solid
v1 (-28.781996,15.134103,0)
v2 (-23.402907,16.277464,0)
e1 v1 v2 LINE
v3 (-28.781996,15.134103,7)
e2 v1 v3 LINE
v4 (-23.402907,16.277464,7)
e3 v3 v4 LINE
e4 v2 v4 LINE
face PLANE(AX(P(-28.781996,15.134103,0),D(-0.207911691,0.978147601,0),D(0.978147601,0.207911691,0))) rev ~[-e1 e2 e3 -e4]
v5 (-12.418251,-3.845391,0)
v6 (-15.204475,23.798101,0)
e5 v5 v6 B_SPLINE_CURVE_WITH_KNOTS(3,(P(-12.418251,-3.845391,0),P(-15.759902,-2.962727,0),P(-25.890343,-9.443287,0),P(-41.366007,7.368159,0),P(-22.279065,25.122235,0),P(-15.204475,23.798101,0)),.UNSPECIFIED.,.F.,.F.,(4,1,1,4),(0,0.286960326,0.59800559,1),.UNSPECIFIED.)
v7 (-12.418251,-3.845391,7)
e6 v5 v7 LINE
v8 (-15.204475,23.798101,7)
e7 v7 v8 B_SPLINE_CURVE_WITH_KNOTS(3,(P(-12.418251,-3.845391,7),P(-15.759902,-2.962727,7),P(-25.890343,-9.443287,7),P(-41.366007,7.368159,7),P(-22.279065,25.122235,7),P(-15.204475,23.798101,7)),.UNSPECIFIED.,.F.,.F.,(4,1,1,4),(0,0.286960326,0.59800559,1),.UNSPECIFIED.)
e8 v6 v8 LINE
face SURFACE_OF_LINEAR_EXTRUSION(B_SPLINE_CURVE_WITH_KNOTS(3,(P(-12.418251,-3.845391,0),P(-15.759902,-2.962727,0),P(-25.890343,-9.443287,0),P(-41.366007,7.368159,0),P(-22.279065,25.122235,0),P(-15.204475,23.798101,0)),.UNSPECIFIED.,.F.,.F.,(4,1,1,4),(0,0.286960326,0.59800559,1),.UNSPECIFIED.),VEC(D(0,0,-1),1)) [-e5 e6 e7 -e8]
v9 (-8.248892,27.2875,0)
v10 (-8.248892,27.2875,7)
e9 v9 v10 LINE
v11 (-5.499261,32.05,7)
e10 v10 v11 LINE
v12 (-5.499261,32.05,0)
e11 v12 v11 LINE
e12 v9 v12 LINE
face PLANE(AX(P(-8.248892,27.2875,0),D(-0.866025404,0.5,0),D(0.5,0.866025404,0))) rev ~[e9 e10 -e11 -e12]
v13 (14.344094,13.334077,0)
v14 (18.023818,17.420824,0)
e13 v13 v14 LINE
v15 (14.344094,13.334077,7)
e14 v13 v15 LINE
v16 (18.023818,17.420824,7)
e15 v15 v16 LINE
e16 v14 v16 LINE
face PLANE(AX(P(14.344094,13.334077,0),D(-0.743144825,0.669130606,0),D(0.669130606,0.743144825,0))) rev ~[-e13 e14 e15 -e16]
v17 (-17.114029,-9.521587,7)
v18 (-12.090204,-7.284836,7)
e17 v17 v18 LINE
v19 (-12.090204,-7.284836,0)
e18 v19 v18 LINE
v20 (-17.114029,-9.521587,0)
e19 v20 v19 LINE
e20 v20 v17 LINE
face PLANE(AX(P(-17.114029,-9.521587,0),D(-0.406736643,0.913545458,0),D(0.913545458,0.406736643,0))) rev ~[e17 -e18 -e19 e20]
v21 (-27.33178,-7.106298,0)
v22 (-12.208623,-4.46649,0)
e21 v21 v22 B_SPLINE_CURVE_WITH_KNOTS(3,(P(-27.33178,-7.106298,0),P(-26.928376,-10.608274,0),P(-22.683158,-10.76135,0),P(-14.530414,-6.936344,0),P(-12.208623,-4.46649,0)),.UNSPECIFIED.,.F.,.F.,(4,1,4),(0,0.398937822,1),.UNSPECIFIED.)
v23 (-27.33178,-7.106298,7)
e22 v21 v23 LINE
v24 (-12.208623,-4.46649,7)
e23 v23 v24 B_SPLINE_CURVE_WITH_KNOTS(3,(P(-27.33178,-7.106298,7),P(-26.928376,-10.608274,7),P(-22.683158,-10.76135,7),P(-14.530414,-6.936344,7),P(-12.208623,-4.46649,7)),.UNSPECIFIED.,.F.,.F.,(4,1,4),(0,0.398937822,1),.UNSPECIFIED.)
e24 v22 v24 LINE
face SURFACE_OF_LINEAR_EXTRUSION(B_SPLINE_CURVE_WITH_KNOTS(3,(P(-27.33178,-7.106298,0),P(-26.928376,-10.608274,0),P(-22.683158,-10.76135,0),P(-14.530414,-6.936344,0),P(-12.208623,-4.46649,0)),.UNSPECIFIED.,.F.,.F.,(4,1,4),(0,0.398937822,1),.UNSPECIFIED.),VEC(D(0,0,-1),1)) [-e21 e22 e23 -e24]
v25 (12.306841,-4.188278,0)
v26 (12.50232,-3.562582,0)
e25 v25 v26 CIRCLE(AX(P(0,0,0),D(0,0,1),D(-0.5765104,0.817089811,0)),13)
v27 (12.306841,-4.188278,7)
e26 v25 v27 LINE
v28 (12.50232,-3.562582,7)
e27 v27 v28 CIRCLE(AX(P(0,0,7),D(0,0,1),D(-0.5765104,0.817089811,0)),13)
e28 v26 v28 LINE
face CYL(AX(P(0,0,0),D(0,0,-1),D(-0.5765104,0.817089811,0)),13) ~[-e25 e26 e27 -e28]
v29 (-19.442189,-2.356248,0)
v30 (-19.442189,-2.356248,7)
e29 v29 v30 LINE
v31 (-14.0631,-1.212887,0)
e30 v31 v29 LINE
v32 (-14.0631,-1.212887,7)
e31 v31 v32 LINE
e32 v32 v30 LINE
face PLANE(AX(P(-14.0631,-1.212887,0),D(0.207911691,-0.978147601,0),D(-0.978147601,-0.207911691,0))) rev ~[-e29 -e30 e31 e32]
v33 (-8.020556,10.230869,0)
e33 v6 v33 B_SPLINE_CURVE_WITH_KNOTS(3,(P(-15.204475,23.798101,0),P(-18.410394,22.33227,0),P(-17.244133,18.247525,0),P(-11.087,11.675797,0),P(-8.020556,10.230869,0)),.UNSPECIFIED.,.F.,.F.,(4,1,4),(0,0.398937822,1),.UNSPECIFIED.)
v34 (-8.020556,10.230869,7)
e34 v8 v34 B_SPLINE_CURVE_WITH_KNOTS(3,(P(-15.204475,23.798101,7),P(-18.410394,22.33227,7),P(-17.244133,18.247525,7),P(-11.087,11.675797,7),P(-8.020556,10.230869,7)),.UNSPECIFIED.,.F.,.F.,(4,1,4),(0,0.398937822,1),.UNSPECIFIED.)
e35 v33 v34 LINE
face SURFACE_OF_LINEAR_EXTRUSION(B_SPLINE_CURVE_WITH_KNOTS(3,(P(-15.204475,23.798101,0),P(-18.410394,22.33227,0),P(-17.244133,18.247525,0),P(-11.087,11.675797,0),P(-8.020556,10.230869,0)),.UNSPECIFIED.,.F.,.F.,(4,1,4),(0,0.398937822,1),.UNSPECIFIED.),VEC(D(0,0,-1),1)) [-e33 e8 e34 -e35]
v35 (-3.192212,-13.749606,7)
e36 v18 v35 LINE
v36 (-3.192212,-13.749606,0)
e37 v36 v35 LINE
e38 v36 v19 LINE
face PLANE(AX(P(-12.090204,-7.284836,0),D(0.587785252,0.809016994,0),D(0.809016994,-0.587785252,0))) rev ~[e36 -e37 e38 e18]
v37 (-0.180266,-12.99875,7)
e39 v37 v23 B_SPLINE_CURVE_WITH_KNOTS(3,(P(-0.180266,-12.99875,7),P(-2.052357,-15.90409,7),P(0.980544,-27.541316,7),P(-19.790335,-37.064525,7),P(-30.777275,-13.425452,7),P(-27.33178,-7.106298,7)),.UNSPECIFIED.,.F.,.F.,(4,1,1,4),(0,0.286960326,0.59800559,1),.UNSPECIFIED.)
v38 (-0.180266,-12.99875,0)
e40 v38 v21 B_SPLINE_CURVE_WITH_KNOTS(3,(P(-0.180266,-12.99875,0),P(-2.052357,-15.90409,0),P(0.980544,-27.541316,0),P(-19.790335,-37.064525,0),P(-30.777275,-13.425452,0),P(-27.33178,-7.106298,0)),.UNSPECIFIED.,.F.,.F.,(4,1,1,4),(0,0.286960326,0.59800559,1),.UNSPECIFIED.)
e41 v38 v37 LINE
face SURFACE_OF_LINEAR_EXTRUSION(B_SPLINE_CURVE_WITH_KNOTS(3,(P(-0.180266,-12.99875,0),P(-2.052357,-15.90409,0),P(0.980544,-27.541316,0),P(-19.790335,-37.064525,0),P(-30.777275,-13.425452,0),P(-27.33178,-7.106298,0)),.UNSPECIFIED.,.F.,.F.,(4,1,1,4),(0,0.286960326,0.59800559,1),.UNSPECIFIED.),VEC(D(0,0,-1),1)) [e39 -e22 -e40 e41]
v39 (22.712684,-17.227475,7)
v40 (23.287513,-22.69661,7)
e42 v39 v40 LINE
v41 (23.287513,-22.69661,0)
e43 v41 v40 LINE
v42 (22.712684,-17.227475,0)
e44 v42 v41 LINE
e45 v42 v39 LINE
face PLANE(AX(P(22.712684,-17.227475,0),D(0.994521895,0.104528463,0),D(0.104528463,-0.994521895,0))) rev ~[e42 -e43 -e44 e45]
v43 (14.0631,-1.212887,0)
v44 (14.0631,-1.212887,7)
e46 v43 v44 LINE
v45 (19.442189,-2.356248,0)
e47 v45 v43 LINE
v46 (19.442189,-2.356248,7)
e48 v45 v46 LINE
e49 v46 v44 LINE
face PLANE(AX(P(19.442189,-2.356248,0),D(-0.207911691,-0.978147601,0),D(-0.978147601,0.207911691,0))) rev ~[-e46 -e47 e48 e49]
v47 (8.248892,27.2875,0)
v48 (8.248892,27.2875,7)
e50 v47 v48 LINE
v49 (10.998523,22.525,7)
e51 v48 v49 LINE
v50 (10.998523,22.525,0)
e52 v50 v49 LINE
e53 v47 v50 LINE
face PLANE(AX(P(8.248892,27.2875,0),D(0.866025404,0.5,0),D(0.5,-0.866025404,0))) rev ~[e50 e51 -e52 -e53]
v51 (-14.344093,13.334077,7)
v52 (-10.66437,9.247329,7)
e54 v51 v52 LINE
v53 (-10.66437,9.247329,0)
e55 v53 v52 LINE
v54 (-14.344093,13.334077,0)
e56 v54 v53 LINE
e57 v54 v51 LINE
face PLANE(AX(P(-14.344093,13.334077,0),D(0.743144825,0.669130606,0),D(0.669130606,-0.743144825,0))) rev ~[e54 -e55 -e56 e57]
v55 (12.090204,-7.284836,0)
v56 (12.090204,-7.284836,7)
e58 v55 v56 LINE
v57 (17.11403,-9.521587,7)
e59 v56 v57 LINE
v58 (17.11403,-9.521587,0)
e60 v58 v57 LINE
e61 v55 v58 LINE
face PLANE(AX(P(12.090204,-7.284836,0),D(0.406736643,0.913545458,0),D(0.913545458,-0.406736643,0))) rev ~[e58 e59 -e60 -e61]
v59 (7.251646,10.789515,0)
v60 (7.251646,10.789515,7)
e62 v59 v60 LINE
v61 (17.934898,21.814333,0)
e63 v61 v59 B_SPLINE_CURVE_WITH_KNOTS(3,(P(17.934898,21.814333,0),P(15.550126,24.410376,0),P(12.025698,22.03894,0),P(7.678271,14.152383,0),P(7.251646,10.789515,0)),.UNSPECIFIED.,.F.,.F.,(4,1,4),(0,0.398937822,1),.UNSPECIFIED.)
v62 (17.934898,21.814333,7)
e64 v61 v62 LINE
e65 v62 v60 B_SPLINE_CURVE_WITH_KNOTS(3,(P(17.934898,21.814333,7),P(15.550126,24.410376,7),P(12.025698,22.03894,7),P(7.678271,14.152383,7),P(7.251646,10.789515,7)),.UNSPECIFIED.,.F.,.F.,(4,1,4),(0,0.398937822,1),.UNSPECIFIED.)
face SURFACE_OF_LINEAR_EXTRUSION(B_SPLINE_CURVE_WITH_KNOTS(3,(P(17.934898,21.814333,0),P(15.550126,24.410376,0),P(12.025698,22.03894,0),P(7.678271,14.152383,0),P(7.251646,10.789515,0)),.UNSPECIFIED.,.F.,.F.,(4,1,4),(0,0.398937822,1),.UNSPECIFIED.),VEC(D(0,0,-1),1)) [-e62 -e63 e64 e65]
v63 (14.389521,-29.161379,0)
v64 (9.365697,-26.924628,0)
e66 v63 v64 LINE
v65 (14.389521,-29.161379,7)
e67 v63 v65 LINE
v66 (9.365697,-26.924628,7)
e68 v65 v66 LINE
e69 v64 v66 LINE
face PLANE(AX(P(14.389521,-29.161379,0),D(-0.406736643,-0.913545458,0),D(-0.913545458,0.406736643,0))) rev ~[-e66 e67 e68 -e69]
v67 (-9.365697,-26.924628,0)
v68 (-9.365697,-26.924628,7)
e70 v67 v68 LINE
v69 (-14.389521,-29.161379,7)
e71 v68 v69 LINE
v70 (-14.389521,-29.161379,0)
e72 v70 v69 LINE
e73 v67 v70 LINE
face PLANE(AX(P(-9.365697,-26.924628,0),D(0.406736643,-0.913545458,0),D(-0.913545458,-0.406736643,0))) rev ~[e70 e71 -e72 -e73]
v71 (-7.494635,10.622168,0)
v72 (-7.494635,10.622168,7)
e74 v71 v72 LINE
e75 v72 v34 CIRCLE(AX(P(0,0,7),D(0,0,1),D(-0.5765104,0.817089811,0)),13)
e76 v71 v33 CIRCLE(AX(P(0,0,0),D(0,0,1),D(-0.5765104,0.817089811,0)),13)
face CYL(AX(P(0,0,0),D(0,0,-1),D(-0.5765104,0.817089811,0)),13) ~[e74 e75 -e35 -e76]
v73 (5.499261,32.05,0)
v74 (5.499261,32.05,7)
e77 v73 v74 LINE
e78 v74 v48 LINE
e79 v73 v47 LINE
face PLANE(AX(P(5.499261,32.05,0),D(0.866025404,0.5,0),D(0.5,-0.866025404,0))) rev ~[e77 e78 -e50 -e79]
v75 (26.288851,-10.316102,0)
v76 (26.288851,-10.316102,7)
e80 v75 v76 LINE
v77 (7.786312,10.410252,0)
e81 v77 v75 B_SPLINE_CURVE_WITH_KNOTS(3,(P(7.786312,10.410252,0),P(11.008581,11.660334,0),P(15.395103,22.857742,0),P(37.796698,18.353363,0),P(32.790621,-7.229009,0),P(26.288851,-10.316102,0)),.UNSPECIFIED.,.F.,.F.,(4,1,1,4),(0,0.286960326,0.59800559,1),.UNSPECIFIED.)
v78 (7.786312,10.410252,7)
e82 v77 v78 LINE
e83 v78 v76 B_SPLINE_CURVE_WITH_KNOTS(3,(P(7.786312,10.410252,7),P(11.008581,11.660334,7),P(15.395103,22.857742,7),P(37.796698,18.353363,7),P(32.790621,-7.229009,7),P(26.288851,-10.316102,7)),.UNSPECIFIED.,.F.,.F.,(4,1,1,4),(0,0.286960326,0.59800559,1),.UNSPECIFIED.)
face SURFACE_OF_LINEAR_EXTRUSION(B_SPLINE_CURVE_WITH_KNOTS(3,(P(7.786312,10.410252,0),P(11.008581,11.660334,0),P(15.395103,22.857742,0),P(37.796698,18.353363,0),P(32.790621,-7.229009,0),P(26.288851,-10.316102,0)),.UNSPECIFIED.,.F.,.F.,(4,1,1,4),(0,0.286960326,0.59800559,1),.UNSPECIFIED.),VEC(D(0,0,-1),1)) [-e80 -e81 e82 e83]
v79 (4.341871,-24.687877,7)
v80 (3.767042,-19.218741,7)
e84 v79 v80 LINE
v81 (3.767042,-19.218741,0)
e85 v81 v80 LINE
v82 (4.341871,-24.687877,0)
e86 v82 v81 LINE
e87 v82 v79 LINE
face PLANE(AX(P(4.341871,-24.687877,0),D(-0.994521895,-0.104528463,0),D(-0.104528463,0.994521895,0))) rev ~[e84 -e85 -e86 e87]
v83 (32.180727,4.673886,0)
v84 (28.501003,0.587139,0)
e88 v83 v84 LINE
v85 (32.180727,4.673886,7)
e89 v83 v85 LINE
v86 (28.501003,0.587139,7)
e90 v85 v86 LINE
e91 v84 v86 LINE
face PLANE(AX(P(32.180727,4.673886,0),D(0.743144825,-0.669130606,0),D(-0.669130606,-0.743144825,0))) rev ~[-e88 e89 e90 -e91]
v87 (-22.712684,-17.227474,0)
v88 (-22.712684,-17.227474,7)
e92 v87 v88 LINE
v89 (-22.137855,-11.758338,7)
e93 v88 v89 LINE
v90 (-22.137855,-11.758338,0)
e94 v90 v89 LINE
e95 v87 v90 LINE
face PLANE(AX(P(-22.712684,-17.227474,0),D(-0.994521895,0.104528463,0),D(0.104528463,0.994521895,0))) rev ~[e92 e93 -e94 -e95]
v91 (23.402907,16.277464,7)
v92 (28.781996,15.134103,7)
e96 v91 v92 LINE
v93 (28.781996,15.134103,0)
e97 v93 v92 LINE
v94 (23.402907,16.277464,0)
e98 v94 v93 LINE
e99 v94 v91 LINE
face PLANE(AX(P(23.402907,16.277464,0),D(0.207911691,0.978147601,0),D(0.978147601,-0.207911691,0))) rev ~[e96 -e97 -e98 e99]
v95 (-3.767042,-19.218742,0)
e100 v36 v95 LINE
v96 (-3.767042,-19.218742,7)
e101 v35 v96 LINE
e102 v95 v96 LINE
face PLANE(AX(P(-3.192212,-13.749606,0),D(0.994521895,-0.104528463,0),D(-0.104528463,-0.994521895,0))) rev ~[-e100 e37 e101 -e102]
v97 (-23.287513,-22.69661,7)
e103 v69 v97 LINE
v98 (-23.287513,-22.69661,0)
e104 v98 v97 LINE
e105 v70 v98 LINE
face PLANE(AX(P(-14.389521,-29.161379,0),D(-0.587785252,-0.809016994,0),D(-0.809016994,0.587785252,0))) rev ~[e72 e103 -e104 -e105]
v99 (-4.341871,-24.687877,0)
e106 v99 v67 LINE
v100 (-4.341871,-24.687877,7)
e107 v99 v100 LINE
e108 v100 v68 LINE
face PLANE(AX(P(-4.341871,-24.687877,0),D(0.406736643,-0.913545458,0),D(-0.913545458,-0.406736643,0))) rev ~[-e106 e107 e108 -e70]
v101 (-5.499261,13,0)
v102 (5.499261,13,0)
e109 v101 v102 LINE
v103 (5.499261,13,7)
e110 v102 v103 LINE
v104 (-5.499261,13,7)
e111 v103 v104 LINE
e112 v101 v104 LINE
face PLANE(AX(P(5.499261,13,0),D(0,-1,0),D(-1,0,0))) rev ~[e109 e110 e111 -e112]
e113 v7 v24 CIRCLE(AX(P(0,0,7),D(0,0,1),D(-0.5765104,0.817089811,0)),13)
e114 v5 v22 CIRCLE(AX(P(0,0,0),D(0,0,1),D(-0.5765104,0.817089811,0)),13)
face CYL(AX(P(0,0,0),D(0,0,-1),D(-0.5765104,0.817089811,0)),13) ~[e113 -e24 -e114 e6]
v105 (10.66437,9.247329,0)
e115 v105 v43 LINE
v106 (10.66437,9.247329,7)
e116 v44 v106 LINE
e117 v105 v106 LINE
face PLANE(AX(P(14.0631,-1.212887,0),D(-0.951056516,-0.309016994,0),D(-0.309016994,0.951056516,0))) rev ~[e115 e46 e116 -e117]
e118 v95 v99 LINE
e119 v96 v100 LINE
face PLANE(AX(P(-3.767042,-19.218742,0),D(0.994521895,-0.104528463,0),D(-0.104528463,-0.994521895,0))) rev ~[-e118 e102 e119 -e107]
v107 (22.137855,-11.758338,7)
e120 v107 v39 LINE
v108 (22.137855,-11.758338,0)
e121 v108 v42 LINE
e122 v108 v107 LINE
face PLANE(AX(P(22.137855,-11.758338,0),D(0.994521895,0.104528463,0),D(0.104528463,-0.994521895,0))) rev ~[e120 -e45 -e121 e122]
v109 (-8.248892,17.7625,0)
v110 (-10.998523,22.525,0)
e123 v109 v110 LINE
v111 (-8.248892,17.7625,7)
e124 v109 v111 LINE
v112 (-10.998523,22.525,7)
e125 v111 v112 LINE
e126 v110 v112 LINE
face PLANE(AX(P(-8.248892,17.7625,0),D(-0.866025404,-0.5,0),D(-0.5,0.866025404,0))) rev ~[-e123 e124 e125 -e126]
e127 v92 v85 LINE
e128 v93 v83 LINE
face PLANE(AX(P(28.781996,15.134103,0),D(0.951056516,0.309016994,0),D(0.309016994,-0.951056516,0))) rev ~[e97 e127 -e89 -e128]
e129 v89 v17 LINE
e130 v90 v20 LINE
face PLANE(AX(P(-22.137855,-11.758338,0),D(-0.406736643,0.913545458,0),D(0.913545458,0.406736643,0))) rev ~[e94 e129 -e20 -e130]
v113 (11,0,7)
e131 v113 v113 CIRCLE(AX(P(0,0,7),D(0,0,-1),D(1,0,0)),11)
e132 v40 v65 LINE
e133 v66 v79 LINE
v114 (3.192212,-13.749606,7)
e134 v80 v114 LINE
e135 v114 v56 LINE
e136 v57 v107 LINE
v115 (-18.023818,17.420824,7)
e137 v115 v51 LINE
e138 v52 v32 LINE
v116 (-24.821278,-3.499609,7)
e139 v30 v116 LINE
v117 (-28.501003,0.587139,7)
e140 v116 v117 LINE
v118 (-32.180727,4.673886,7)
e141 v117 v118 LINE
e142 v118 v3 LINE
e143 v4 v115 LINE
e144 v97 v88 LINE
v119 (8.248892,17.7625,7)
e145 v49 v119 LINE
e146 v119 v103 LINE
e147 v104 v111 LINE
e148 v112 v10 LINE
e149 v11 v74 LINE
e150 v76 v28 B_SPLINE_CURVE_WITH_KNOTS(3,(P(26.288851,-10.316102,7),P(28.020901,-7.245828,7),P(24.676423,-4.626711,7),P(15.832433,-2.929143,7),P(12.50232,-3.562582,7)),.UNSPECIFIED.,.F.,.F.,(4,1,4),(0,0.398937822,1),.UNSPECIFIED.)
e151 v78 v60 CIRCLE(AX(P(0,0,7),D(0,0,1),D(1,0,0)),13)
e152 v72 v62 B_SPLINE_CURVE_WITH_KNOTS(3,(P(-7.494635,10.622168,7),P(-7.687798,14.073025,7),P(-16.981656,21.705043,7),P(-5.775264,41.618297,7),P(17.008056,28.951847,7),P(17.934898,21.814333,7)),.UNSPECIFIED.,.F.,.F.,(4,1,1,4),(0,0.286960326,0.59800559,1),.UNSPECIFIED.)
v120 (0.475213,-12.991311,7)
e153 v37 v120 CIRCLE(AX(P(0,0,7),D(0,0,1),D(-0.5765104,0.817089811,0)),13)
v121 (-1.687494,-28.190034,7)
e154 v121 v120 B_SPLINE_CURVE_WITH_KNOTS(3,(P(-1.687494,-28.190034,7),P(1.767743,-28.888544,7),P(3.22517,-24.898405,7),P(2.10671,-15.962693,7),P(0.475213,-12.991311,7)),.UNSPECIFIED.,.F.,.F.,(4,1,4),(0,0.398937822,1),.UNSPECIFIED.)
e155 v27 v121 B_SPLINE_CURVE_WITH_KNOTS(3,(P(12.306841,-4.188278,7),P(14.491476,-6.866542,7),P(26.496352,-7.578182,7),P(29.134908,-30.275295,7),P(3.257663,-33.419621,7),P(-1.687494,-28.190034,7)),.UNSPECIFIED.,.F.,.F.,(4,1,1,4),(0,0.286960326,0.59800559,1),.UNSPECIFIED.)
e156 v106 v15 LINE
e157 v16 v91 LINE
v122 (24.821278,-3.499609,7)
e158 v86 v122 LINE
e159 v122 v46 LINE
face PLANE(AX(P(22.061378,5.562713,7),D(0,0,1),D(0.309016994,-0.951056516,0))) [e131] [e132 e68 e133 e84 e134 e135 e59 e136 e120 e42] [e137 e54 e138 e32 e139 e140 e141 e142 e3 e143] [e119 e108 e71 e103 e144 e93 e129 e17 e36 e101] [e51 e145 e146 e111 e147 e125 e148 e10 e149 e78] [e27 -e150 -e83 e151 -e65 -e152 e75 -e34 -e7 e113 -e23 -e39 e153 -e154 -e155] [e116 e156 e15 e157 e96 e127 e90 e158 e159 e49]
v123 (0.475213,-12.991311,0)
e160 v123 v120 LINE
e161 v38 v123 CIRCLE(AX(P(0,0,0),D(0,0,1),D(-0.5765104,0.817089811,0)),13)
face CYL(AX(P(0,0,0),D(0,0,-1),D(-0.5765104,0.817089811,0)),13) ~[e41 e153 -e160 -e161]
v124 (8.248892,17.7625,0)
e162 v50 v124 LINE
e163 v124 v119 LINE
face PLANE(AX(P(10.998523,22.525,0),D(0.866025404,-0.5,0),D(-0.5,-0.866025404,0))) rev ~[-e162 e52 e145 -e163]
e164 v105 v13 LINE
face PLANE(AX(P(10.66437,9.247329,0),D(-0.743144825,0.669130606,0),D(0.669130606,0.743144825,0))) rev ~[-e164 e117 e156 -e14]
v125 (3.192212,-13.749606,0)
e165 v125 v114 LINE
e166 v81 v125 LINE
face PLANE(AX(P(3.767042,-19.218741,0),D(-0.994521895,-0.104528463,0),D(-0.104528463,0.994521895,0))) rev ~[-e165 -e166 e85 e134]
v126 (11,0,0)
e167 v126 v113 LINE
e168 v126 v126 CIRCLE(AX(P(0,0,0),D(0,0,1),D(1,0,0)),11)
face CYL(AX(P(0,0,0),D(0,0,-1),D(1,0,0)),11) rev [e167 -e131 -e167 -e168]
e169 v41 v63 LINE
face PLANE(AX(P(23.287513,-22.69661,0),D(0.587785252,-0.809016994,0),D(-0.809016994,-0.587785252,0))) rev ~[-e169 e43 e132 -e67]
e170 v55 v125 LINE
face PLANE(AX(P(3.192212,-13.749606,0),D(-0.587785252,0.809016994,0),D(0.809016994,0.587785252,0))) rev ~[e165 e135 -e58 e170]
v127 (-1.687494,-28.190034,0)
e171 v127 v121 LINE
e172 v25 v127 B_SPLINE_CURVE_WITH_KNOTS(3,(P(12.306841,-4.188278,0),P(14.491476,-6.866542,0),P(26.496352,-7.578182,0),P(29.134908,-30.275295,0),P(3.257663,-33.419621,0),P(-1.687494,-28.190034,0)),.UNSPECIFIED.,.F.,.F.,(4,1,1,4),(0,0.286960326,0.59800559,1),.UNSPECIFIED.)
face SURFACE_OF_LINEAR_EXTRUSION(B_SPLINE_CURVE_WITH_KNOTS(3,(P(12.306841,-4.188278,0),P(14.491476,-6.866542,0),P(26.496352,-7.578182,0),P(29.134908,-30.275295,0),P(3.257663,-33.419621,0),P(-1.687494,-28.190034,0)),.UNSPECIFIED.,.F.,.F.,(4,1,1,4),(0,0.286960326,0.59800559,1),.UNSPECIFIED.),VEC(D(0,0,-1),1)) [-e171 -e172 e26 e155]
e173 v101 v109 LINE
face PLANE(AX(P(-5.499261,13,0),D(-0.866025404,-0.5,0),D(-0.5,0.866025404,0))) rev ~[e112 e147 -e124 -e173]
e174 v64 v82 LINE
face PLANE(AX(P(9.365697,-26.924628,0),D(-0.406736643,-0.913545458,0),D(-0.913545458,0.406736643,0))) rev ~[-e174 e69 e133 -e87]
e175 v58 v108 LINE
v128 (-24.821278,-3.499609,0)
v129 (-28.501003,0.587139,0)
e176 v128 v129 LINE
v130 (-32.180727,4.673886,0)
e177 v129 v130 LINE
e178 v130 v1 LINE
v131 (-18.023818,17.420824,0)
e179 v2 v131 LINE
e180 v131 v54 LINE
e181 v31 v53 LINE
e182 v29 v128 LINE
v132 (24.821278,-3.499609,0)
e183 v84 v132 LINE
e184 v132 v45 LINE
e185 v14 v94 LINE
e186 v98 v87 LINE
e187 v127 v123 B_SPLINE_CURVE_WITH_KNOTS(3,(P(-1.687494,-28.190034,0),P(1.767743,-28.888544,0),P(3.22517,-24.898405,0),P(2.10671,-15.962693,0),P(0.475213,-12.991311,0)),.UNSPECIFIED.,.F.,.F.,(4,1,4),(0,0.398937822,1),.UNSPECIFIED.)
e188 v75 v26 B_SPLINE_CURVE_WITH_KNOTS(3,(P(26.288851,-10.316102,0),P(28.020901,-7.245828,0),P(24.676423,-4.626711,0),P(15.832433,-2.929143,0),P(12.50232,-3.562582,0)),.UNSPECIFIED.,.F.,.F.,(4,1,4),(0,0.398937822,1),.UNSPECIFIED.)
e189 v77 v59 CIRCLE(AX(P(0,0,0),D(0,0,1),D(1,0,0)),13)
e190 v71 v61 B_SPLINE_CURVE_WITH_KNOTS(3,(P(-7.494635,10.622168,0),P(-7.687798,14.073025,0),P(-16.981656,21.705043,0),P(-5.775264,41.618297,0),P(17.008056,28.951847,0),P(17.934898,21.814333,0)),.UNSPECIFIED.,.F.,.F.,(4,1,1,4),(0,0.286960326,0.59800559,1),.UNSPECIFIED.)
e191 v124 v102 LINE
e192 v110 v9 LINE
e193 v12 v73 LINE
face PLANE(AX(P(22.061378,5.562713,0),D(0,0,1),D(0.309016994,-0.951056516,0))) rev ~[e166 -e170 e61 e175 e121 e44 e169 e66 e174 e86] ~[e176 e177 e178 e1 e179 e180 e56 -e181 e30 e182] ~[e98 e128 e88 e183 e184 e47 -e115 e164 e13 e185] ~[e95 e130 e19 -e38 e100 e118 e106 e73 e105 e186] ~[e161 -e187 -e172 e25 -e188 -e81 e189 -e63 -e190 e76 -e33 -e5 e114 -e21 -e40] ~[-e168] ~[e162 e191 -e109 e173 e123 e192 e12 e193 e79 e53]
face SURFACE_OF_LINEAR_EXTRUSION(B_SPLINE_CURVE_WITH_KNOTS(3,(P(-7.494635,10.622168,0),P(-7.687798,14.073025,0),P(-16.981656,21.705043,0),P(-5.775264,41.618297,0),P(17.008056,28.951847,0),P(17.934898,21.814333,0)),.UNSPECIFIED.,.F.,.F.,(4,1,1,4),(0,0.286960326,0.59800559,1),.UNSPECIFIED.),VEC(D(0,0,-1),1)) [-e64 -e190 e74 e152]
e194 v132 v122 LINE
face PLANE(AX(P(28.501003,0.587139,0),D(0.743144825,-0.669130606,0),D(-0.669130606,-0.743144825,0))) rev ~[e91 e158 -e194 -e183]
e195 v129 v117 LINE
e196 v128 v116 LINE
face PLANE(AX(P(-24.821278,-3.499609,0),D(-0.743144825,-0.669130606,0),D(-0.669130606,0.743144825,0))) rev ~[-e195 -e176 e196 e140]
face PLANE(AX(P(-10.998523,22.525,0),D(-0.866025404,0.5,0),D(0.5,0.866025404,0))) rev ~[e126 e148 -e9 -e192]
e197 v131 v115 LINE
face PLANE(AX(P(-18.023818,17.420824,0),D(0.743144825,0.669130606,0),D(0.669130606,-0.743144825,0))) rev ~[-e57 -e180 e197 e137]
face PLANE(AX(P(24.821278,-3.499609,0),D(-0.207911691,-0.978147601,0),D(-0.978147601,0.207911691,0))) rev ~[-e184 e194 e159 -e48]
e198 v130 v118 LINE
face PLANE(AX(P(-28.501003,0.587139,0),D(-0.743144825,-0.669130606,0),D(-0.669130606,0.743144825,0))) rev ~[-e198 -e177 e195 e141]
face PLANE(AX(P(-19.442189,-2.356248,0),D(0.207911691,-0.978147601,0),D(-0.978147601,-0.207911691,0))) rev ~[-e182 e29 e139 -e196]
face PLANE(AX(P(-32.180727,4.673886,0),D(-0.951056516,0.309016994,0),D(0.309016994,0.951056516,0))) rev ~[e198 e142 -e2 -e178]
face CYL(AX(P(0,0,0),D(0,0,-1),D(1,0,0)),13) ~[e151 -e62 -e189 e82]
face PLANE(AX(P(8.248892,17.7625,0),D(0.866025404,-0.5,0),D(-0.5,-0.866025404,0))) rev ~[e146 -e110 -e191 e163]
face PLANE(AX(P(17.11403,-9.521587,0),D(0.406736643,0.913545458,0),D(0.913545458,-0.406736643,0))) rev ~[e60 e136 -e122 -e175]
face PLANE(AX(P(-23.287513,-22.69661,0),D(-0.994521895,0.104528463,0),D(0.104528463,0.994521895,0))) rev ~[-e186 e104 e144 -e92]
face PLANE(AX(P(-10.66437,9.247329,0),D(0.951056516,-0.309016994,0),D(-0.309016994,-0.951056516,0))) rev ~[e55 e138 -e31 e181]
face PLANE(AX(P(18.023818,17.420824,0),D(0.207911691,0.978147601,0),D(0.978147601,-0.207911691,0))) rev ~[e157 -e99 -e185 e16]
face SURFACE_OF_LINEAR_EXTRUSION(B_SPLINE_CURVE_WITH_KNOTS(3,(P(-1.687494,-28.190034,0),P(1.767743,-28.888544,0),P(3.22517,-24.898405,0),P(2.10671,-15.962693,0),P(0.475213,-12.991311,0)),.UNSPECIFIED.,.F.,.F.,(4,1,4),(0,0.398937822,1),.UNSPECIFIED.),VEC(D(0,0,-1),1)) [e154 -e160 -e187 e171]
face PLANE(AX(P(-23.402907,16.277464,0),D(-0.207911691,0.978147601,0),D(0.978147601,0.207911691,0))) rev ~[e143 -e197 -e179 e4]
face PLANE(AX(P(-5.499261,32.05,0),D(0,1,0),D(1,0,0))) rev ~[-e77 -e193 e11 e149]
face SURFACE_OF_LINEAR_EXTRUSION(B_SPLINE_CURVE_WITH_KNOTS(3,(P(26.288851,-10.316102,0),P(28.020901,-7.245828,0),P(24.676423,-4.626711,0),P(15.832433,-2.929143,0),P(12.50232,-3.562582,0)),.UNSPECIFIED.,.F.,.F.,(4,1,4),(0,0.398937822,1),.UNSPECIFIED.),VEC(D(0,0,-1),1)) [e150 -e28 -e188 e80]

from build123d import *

# Parameters (mm, degrees)
F0_R     = 11
F1_DEPTH = 7
F2_COUNT = 5


with BuildPart() as f1:
    # F0 (on Top) → F1 (new body)
    with BuildSketch(Plane.XY):
        with BuildLine():
            ThreePointArc((0, 13), (3.7905348907, 12.4351053571), (7.2516462654, 10.7895146527))
            add(Edge.make_bspline(
                [(17.9348975709, 21.8143326287), (15.5501263216, 24.4103763252), (12.02569754, 22.0389403249), (7.6782712302, 14.1523831855), (7.2516462654, 10.7895146527)],
                knots=[0, 0, 0, 0, 0.3989378216, 1, 1, 1, 1], degree=3))
            add(Edge.make_bspline(
                [(-7.4946351981, 10.6221675399), (-7.6877982356, 14.0730245039), (-16.9816558278, 21.7050431862), (-5.7752638848, 41.6182972459), (17.0080556558, 28.9518470832), (17.9348975709, 21.8143326287)],
                knots=[0, 0, 0, 0, 0.2869603255, 0.5980055899, 1, 1, 1, 1], degree=3))
            ThreePointArc((-7.4946351981, 10.6221675399), (-3.9314006398, 12.3912908532), (0, 13))
        make_face()
        Polygon((5.499261314, 13), (0, 13), (-5.499261314, 13), (-8.2488920963, 17.7625002169), (-10.9985226281, 22.525), (-8.24889179, 27.2875003136), (-5.499261314, 32.05), (0, 32.05), (5.499261314, 32.05), (8.2488918485, 27.2875002122), (10.9985226281, 22.525), (8.248891917, 17.7624999064), align=None, mode=Mode.SUBTRACT)
        with BuildLine():
            ThreePointArc((-7.4946351981, 10.6221675399), (-5.982045738, -11.5418858419), (13, 0))
            ThreePointArc((13, 0), (11.4732602483, 6.1126343973), (7.2516462654, 10.7895146527))
            ThreePointArc((7.2516462654, 10.7895146527), (3.7905348907, 12.4351053571), (0, 13))
            ThreePointArc((0, 13), (-3.9314006398, 12.3912908532), (-7.4946351981, 10.6221675399))
        make_face()
        Circle(F0_R, mode=Mode.SUBTRACT)
    extrude(amount=F1_DEPTH)

    # F2: F1 ×5 about axis
    f2_axis = Axis((0, 0, 7), (0, 0, 1))


with BuildPart() as f1_1:
    add(f1.part)
    for i in range(1, F2_COUNT):
        add(f1.part.rotate(f2_axis, i * 360 / F2_COUNT))


solid = f1_1.part
